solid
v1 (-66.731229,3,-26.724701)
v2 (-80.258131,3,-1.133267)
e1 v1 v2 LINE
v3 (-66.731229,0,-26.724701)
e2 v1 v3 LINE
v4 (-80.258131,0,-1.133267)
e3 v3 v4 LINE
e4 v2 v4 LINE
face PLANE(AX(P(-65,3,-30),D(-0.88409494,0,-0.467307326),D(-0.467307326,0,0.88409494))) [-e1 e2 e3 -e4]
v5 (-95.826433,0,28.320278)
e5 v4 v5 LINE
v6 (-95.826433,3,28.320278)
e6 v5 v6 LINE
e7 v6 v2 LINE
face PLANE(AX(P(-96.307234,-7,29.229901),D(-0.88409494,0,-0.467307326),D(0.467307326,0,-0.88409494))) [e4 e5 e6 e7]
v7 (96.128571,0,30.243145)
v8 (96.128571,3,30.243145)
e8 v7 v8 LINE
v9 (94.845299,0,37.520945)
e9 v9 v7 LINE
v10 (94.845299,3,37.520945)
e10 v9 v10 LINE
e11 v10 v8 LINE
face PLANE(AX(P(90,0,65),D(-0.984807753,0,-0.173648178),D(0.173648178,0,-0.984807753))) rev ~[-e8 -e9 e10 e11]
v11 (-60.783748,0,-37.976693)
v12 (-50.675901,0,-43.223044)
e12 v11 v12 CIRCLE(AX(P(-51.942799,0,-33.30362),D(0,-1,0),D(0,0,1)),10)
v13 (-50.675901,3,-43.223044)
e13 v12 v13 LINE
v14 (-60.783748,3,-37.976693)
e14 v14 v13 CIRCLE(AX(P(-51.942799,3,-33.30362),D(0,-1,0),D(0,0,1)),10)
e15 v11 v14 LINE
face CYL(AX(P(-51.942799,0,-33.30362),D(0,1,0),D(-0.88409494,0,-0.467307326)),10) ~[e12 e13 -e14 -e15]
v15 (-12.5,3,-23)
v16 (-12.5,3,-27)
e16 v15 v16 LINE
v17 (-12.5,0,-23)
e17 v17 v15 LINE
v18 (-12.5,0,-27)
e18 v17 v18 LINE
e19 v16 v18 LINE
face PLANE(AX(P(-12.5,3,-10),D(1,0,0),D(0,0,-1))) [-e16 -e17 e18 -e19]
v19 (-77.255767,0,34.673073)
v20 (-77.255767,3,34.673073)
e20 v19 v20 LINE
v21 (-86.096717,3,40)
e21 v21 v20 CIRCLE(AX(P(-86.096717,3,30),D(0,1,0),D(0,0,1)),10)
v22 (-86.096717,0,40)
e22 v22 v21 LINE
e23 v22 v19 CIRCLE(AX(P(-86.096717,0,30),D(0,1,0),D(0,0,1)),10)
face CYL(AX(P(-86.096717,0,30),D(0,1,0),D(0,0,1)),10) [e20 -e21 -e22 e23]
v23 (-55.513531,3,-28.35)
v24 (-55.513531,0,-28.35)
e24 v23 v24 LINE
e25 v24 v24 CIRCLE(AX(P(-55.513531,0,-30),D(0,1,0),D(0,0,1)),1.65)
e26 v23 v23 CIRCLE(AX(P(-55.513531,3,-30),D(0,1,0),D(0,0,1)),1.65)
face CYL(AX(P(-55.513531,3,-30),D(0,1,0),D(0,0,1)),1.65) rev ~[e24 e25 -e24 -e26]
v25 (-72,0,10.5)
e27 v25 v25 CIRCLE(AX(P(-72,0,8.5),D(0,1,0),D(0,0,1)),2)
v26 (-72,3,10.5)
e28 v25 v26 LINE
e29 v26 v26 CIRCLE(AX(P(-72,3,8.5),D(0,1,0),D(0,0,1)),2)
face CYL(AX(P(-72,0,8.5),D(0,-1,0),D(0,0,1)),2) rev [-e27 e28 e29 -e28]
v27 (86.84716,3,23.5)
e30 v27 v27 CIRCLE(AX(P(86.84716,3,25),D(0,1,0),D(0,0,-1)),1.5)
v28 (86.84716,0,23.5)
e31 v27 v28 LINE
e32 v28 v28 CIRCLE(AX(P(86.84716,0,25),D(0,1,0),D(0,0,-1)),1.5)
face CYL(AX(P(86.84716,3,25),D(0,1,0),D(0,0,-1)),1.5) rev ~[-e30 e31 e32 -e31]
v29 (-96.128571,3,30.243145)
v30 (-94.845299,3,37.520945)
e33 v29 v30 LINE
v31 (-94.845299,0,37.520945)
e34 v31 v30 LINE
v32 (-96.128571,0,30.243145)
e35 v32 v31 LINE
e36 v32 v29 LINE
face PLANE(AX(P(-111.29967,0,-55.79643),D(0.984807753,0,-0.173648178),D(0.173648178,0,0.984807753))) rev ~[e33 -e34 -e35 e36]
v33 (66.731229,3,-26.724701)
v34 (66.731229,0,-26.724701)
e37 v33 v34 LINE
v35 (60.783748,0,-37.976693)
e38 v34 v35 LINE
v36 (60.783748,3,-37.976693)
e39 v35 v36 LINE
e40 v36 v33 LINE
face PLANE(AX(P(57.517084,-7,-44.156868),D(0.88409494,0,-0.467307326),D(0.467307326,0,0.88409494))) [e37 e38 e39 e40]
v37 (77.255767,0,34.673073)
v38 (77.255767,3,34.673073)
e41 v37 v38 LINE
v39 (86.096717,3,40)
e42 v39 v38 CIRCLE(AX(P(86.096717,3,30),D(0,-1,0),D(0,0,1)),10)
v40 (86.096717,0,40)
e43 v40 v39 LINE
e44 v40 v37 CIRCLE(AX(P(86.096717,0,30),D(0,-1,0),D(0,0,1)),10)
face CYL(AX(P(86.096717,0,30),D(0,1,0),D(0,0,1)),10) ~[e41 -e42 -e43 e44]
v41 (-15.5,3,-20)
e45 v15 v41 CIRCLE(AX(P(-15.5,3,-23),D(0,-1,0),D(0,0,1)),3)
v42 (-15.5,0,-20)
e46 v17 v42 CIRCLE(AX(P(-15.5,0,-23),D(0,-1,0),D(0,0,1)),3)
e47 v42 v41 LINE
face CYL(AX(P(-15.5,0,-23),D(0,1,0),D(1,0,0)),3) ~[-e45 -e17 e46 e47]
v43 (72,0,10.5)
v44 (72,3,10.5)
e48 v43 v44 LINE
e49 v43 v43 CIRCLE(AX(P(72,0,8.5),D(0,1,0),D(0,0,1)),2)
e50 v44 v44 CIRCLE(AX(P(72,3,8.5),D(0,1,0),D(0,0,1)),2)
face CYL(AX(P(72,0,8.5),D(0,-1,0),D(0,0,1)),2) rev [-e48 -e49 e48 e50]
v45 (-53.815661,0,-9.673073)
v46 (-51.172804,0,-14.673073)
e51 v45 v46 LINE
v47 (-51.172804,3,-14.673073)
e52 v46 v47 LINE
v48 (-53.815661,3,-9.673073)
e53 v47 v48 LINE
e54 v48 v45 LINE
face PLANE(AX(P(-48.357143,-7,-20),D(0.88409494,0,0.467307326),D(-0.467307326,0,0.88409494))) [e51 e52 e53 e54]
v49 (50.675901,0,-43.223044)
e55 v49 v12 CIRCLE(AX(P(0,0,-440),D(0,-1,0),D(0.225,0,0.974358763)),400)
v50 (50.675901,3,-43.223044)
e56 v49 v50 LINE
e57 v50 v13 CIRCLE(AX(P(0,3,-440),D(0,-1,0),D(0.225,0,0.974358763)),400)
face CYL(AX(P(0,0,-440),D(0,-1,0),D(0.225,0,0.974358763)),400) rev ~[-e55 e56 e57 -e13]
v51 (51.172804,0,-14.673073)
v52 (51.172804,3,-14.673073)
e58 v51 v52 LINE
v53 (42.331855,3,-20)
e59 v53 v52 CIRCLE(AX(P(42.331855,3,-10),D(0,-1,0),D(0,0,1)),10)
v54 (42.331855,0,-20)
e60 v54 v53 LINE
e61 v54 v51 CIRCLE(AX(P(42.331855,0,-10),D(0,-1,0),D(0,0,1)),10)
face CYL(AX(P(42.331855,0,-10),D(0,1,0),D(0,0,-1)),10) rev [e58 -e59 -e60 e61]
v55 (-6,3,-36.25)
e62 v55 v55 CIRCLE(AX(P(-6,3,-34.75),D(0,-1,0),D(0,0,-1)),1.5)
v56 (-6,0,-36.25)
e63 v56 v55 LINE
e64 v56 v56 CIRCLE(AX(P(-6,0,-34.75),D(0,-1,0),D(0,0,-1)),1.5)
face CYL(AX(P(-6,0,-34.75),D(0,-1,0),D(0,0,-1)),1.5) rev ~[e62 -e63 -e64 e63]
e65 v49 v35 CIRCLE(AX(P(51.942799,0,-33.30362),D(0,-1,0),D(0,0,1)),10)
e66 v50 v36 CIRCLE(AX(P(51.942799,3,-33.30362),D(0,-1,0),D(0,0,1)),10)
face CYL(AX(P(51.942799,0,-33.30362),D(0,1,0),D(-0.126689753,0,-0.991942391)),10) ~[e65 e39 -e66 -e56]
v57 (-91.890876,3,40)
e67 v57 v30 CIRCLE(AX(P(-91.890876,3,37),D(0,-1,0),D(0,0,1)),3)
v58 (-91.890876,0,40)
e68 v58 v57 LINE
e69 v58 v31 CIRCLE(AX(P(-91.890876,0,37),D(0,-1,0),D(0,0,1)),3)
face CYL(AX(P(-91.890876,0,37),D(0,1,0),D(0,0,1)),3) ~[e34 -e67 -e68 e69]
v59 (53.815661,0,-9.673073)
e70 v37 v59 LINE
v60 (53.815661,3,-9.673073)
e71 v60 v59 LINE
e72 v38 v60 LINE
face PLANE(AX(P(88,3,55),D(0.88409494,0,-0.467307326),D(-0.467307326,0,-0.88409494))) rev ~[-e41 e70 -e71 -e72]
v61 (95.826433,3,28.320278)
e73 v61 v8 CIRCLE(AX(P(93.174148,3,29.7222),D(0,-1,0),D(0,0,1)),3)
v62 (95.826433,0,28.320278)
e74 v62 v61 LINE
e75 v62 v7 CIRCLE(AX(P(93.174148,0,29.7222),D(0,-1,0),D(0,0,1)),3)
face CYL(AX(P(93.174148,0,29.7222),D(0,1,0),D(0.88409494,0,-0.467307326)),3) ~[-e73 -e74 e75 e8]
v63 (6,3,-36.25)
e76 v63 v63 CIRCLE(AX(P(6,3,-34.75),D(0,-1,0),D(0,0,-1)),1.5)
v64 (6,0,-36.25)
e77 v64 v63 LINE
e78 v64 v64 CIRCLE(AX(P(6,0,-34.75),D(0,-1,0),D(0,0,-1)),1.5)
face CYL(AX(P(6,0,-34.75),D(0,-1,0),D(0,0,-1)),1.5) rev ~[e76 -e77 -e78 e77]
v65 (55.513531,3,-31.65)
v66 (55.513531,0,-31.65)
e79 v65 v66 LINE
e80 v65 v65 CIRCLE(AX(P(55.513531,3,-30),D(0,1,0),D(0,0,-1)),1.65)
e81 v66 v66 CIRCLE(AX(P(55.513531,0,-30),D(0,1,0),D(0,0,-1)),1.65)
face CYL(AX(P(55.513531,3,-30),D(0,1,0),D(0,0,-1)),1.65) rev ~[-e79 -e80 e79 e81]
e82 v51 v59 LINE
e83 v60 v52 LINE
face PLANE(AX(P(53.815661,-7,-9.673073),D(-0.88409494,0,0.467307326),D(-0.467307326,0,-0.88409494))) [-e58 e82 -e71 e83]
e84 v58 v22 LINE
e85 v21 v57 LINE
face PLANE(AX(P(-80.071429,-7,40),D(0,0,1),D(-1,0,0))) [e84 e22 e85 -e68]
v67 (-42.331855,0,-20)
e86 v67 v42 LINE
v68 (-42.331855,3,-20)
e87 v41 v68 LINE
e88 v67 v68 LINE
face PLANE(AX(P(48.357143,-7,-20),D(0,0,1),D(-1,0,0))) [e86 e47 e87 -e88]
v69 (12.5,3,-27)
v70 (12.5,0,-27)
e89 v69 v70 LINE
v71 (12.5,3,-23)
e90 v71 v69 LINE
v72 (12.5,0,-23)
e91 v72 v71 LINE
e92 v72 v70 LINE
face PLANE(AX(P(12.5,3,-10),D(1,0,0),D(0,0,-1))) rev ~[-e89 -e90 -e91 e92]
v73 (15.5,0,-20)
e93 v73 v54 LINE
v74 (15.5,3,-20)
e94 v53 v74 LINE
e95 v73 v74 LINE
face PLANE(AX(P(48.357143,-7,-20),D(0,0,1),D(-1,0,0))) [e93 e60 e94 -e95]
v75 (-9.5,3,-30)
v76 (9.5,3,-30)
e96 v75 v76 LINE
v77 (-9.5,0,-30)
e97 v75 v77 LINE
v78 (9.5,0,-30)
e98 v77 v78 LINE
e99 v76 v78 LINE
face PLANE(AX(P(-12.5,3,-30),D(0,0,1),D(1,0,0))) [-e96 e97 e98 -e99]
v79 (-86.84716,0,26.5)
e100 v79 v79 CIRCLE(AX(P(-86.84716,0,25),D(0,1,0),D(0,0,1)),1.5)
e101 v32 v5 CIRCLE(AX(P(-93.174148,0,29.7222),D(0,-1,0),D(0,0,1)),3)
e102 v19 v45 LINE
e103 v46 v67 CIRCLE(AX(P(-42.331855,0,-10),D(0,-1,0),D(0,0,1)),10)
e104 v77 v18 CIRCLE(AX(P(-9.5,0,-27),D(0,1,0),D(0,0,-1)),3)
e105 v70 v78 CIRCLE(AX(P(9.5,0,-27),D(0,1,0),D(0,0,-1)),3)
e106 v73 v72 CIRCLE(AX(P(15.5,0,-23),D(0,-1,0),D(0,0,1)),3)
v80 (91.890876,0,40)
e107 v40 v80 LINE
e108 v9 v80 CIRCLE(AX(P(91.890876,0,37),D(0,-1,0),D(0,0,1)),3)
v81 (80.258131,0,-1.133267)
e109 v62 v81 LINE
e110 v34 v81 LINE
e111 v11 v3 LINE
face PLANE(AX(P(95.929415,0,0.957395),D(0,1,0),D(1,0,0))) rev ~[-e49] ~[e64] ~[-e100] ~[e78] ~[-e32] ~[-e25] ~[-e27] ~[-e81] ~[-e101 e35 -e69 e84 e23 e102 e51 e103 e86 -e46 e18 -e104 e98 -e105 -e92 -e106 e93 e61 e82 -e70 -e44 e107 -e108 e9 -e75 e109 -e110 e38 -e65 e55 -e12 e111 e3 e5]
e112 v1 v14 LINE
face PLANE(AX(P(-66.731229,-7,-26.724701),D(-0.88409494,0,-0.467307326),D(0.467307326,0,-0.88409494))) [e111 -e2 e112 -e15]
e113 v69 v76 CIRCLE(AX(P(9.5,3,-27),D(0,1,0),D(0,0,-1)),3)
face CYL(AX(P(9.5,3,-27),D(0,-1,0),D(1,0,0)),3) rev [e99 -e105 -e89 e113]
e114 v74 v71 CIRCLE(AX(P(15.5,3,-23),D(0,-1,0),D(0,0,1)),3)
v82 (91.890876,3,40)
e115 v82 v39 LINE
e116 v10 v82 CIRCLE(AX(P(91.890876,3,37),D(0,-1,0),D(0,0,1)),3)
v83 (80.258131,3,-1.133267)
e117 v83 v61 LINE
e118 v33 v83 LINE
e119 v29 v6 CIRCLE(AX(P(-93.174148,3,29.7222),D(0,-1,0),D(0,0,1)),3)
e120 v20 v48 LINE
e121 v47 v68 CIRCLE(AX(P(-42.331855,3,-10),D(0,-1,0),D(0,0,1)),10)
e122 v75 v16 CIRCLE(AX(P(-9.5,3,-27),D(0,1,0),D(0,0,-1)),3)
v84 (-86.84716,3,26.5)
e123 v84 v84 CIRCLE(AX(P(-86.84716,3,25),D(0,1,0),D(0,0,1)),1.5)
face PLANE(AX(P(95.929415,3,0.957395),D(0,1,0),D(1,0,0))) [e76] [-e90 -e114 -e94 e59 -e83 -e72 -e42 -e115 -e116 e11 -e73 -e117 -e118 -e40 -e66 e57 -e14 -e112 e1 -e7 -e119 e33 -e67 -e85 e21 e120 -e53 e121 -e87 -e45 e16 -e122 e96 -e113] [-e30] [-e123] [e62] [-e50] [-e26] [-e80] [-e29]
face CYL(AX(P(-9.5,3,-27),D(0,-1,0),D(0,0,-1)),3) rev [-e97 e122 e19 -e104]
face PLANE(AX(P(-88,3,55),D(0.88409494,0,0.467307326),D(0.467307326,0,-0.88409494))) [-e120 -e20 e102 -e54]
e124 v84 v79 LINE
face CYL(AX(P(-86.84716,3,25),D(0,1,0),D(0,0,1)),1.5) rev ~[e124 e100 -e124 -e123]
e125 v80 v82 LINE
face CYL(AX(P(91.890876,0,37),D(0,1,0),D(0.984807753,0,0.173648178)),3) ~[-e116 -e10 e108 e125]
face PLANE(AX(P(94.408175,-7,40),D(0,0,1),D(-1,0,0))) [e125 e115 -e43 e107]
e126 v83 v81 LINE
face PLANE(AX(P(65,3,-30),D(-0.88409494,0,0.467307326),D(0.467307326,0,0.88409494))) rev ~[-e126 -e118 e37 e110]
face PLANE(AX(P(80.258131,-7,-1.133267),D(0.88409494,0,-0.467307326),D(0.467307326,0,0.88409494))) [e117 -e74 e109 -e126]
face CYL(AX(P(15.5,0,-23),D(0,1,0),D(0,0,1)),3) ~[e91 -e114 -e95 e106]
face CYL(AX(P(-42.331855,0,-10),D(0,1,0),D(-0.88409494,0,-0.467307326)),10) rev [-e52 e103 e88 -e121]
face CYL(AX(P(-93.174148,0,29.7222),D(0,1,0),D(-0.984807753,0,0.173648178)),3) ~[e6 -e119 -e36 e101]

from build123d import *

# Parameters (mm, degrees)
SKETCH_1_R          = 2
EXTRUDE_1_DEPTH     = 3
SKETCH_2_R          = 1.5
CUT_EXTRUDE_1_DEPTH = 129.924848176
CUT_EXTRUDE_2_DEPTH = 3
CUT_EXTRUDE_3_DEPTH = 3
CUT_EXTRUDE_4_DEPTH = 129.924848176
FILLET_1_R          = 10
SKETCH_6_R          = 1.25
CUT_EXTRUDE_5_DEPTH = 3
FILLET_2_R          = 10
FILLET_3_R          = 10
CUT_EXTRUDE_6_DEPTH = 127.707867559
FILLET_4_R          = 3
CUT_EXTRUDE_START   = -10
SKETCH_8_R          = 1.25
CUT_EXTRUDE_7_DEPTH = 10
SKETCH_9_R          = 1.65
SKETCH_9_R_2        = 1.5
CUT_EXTRUDE_8_DEPTH = 106.990151571
FILLET_5_R          = 10
SKETCH_10_W         = 25
SKETCH_10_H         = 20
CUT_EXTRUDE_9_DEPTH = 106.637525121
FILLET_6_R          = 3


with BuildPart() as part:
    # 草图1 → 凸台-拉伸1 (new body)
    # profile 1 of 3: a face of its own
    with BuildSketch(Plane(origin=(0, 0, 0), x_dir=(1, 0, 0), z_dir=(0, 1, 0))):
        with BuildLine():
            ThreePointArc((90, 50.256494602), (0, 40), (-90, 50.256494602))
            Line((-90, 50.256494602), (-90, -65))
            Line((-90, -65), (90, -65))
            Line((90, -65), (90, 50.256494602))
        make_face()
        with Locations(Location((-72, -8.5, 0), (0, 0, 270))):
            Circle(SKETCH_1_R, mode=Mode.SUBTRACT)
        with Locations(Location((72, -8.5, 0), (0, 0, 270))):
            Circle(SKETCH_1_R, mode=Mode.SUBTRACT)
    # profile 2 of 3: a face of its own
    with BuildSketch(Plane(origin=(0, 0, 0), x_dir=(1, 0, 0), z_dir=(0, 1, 0))):
        with BuildLine():
            Line((-90, -65), (-90, 50.256494602))
            ThreePointArc((-90, 50.256494602), (-100.687943549, 52.879943656), (-111.299669708, 55.796429581))
            Line((-111.299669708, 55.796429581), (-90, -65))
        make_face()
    # profile 3 of 3: a face of its own
    with BuildSketch(Plane(origin=(0, 0, 0), x_dir=(1, 0, 0), z_dir=(0, 1, 0))):
        with BuildLine():
            ThreePointArc((111.299669708, 55.796429581), (100.687943549, 52.879943656), (90, 50.256494602))
            Line((90, 50.256494602), (90, -65))
            Line((90, -65), (111.299669708, 55.796429581))
        make_face()
    extrude(amount=EXTRUDE_1_DEPTH)

    # 草图2 → 切除-拉伸1 (cut, through all)
    with BuildSketch(Plane(origin=(0, 0, 0), x_dir=(-1, 0, 0), z_dir=(0, -1, 0))):
        with Locations(Location((6, 28.25, 0), (0, 0, 90))):
            Circle(SKETCH_2_R)
        with Locations(Location((-6, 28.25, 0), (0, 0, 90))):
            Circle(SKETCH_2_R)
        with Locations(Location((6, 34.75, 0), (0, 0, 90))):
            Circle(SKETCH_2_R)
        with Locations(Location((-6, 34.75, 0), (0, 0, 90))):
            Circle(SKETCH_2_R)
    extrude(amount=-CUT_EXTRUDE_1_DEPTH, mode=Mode.SUBTRACT)

    # 草图3 → 切除-拉伸2 (cut)
    with BuildSketch(Plane(origin=(0, 3, 0), x_dir=(1, 0, 0), z_dir=(0, 1, 0))):
        with BuildLine():
            ThreePointArc((-45, -46.5), (-40, -41.5), (-35, -46.5))
            Line((-35, -46.5), (-35, 8.5))
            ThreePointArc((-35, 8.5), (-40, 3.5), (-45, 8.5))
            Line((-45, 8.5), (-45, -46.5))
        make_face()
        with BuildLine():
            ThreePointArc((-45, 8.5), (-40, 3.5), (-35, 8.5))
            Line((-35, 8.5), (-45, 8.5))
        make_face()
        with BuildLine():
            Line((-45, 8.5), (-35, 8.5))
            ThreePointArc((-35, 8.5), (-40, 13.5), (-45, 8.5))
        make_face()
        with BuildLine():
            ThreePointArc((-45, -46.5), (-40, -51.5), (-35, -46.5))
            Line((-35, -46.5), (-45, -46.5))
        make_face()
        with BuildLine():
            Line((-45, -46.5), (-35, -46.5))
            ThreePointArc((-35, -46.5), (-40, -41.5), (-45, -46.5))
        make_face()
        with BuildLine():
            ThreePointArc((45, 8.5), (40, 3.5), (35, 8.5))
            Line((35, 8.5), (35, -46.5))
            ThreePointArc((35, -46.5), (40, -41.5), (45, -46.5))
            Line((45, -46.5), (45, 8.5))
        make_face()
        with BuildLine():
            ThreePointArc((45, -46.5), (40, -41.5), (35, -46.5))
            Line((35, -46.5), (45, -46.5))
        make_face()
        with BuildLine():
            Line((45, -46.5), (35, -46.5))
            ThreePointArc((35, -46.5), (40, -51.5), (45, -46.5))
        make_face()
        with BuildLine():
            ThreePointArc((45, 8.5), (40, 13.5), (35, 8.5))
            Line((35, 8.5), (45, 8.5))
        make_face()
        with BuildLine():
            Line((45, 8.5), (35, 8.5))
            ThreePointArc((35, 8.5), (40, 3.5), (45, 8.5))
        make_face()
    extrude(amount=-CUT_EXTRUDE_2_DEPTH, mode=Mode.SUBTRACT)

    # 草图4 → 切除-拉伸3 (cut)
    with BuildSketch(Plane(origin=(0, 3, 0), x_dir=(1, 0, 0), z_dir=(0, 1, 0))):
        with BuildLine():
            Line((45, -41.966401061), (45, -27.473665961))
            ThreePointArc((45, -27.473665961), (39.285969894, -12.835001066), (40.990143514, 2.78666473))
            Line((40.990143514, 2.78666473), (35, 4.966898668))
            Line((35, 4.966898668), (35, -30.4089023))
            ThreePointArc((35, -30.4089023), (39.482405618, -36.635494586), (45, -41.966401061))
        make_face()
        with BuildLine():
            Line((35, 4.966898668), (31.593217306, 6.206866163))
            ThreePointArc((31.593217306, 6.206866163), (29.1849194, -12.483575431), (35, -30.4089023))
            Line((35, -30.4089023), (35, 4.966898668))
        make_face()
        with BuildLine():
            Line((72, -51.5), (72, -41.5))
            ThreePointArc((72, -41.5), (56.787028178, -37.784219101), (45, -27.473665961))
            Line((45, -27.473665961), (45, -41.966401061))
            ThreePointArc((45, -41.966401061), (57.6831436, -49.046610497), (72, -51.5))
        make_face()
    extrude(amount=-CUT_EXTRUDE_3_DEPTH, mode=Mode.SUBTRACT)

    # 草图5 → 切除-拉伸4 (cut, through all)
    with BuildSketch(Plane(origin=(0, 3, 0), x_dir=(1, 0, 0), z_dir=(0, 1, 0))):
        Polygon((23, 15), (23, -55), (88, -55), (51, 15), align=None)
        Polygon((-88, -55), (-51, 15), (-23, 15), (-23, -55), align=None)
    extrude(amount=-CUT_EXTRUDE_4_DEPTH, mode=Mode.SUBTRACT)

    # 圆角1
    fillet_1_edges = [part.edges().sort_by_distance(p)[0] for p in [
        (23, 1.5, -15),
        (51, 1.5, -15),
        (88, 1.5, 55),
        (23, 1.5, 55),
        (-23, 1.5, 55),
        (-88, 1.5, 55),
        (-51, 1.5, -15),
        (-23, 1.5, -15),
    ]]
    fillet(fillet_1_edges, radius=FILLET_1_R)

    # 草图6 → 切除-拉伸5 (cut)
    with BuildSketch(Plane(origin=(0, 3, 0), x_dir=(1, 0, 0), z_dir=(0, 1, 0))):
        with Locations(Location((0, -59, 0), (0, 0, 270))):
            Circle(SKETCH_6_R)
        with Locations(Location((0, -51.5, 0), (0, 0, 270))):
            Circle(SKETCH_6_R)
        with Locations(Location((0, -44, 0), (0, 0, 270))):
            Circle(SKETCH_6_R)
        with Locations(Location((0, -36.5, 0), (0, 0, 270))):
            Circle(SKETCH_6_R)
        with Locations(Location((0, -29, 0), (0, 0, 270))):
            Circle(SKETCH_6_R)
        with Locations(Location((0, -21.5, 0), (0, 0, 270))):
            Circle(SKETCH_6_R)
        with Locations(Location((0, -14, 0), (0, 0, 270))):
            Circle(SKETCH_6_R)
        with Locations(Location((0, -6.5, 0), (0, 0, 270))):
            Circle(SKETCH_6_R)
        with Locations(Location((0, 1, 0), (0, 0, 270))):
            Circle(SKETCH_6_R)
        with Locations(Location((0, 8.5, 0), (0, 0, 270))):
            Circle(SKETCH_6_R)
        with Locations(Location((0, 16, 0), (0, 0, 270))):
            Circle(SKETCH_6_R)
    extrude(amount=-CUT_EXTRUDE_5_DEPTH, mode=Mode.SUBTRACT)

    # 圆角2
    fillet_2_edges = [part.edges().sort_by_distance(p)[0] for p in [
        (90, 1.5, 65),
        (-90, 1.5, 65),
    ]]
    fillet(fillet_2_edges, radius=FILLET_2_R)

    # 圆角3
    fillet_3_edges = [part.edges().sort_by_distance(p)[0] for p in [
        (111.299669708, 1.5, -55.796429581),
        (-111.299669708, 1.5, -55.796429581),
    ]]
    fillet(fillet_3_edges, radius=FILLET_3_R)

    # 草图7 → 切除-拉伸6 (cut, through all)
    with BuildSketch(Plane(origin=(0, 3, 0), x_dir=(1, 0, 0), z_dir=(0, 1, 0))):
        Polygon((-65, 30), (-84.345864805, -6.600284766), (-92.1600328, 37.716064119), align=None)
        Polygon((84.345864805, -6.600284766), (92.1600328, 37.716064119), (65, 30), align=None)
    extrude(amount=-CUT_EXTRUDE_6_DEPTH, mode=Mode.SUBTRACT)

    # 圆角4
    fillet_4_edges = [part.edges().sort_by_distance(p)[0] for p in [
        (-92.1600328, 1.5, -37.716064119),
        (-65, 1.5, -30),
        (-84.345864805, 1.5, 6.600284766),
        (84.345864805, 1.5, 6.600284766),
        (65, 1.5, -30),
        (92.1600328, 1.5, -37.716064119),
    ]]
    fillet(fillet_4_edges, radius=FILLET_4_R)

    # 草图8 → 切除-拉伸7 (cut)
    # profile 1 of 3: a face of its own
    with BuildSketch(Plane(origin=(0, 3, 0), x_dir=(1, 0, 0), z_dir=(0, 1, 0)).offset(CUT_EXTRUDE_START)):
        with BuildLine():
            Line((-96.307233514, -29.229901242), (-80.258130563, 1.133266502))
            ThreePointArc((-80.258130563, 1.133266502), (-83.376089329, -0.428449113), (-85.864838643, 2.014243946))
            Line((-85.864838643, 2.014243946), (-91.328614944, 33.00085915))
            ThreePointArc((-91.328614944, 33.00085915), (-90.384312562, 35.748777877), (-87.554346089, 36.407605686))
            Line((-87.554346089, 36.407605686), (-68.563668687, 31.012424996))
            ThreePointArc((-68.563668687, 31.012424996), (-66.62487936, 29.305577344), (-66.731229463, 26.724701016))
            Line((-66.731229463, 26.724701016), (-57.517083989, 44.156868129))
            ThreePointArc((-57.517083989, 44.156868129), (-77.01064871, 47.483299737), (-96.315987752, 51.76910156))
            ThreePointArc((-96.315987752, 51.76910156), (-105.548135175, 49.372887426), (-108.571964976, 40.326847323))
            Line((-108.571964976, 40.326847323), (-96.307233514, -29.229901242))
        make_face()
    # profile 2 of 3: a face of its own
    with BuildSketch(Plane(origin=(0, 3, 0), x_dir=(1, 0, 0), z_dir=(0, 1, 0)).offset(CUT_EXTRUDE_START)):
        with BuildLine():
            Line((-80.071428571, -40), (-94.408174518, -40))
            Line((-94.408174518, -40), (-91.457081218, -56.736481777))
            ThreePointArc((-91.457081218, -56.736481777), (-88.036879785, -62.660444431), (-81.609003688, -65))
            Line((-81.609003688, -65), (81.609003688, -65))
            ThreePointArc((81.609003688, -65), (88.036879785, -62.660444431), (91.457081218, -56.736481777))
            Line((91.457081218, -56.736481777), (94.408174518, -40))
            Line((94.408174518, -40), (80.071428571, -40))
            Line((80.071428571, -40), (80.244232708, -40.326926744))
            ThreePointArc((80.244232708, -40.326926744), (79.968641807, -50.160875286), (71.403283305, -55))
            Line((71.403283305, -55), (33, -55))
            ThreePointArc((33, -55), (25.928932188, -52.071067812), (23, -45))
            Line((23, -45), (23, 5))
            ThreePointArc((23, 5), (25.928932188, 12.071067812), (33, 15))
            Line((33, 15), (44.974711876, 15))
            ThreePointArc((44.974711876, 15), (50.135587162, 13.565358503), (53.815661279, 9.673073256))
            Line((53.815661279, 9.673073256), (48.357142857, 20))
            Line((48.357142857, 20), (-48.357142857, 20))
            Line((-48.357142857, 20), (-53.815661279, 9.673073256))
            ThreePointArc((-53.815661279, 9.673073256), (-50.135587162, 13.565358503), (-44.974711876, 15))
            Line((-44.974711876, 15), (-33, 15))
            ThreePointArc((-33, 15), (-25.928932188, 12.071067812), (-23, 5))
            Line((-23, 5), (-23, -45))
            ThreePointArc((-23, -45), (-25.928932188, -52.071067812), (-33, -55))
            Line((-33, -55), (-71.403283305, -55))
            ThreePointArc((-71.403283305, -55), (-79.968641807, -50.160875286), (-80.244232708, -40.326926744))
            Line((-80.244232708, -40.326926744), (-80.071428571, -40))
        make_face()
        with Locations((0, -59)):
            Circle(SKETCH_8_R, mode=Mode.SUBTRACT)
        with Locations((0, -51.5)):
            Circle(SKETCH_8_R, mode=Mode.SUBTRACT)
        with Locations((0, -44)):
            Circle(SKETCH_8_R, mode=Mode.SUBTRACT)
        with Locations((0, -36.5)):
            Circle(SKETCH_8_R, mode=Mode.SUBTRACT)
        with Locations((0, -29)):
            Circle(SKETCH_8_R, mode=Mode.SUBTRACT)
        with Locations((0, -21.5)):
            Circle(SKETCH_8_R, mode=Mode.SUBTRACT)
        with Locations((0, -14)):
            Circle(SKETCH_8_R, mode=Mode.SUBTRACT)
        with Locations((0, -6.5)):
            Circle(SKETCH_8_R, mode=Mode.SUBTRACT)
        with Locations((0, 1)):
            Circle(SKETCH_8_R, mode=Mode.SUBTRACT)
        with Locations((0, 8.5)):
            Circle(SKETCH_8_R, mode=Mode.SUBTRACT)
        with Locations((0, 16)):
            Circle(SKETCH_8_R, mode=Mode.SUBTRACT)
    # profile 3 of 3: a face of its own
    with BuildSketch(Plane(origin=(0, 3, 0), x_dir=(1, 0, 0), z_dir=(0, 1, 0)).offset(CUT_EXTRUDE_START)):
        with BuildLine():
            ThreePointArc((96.315987752, 51.76910156), (77.01064871, 47.483299737), (57.517083989, 44.156868129))
            Line((57.517083989, 44.156868129), (66.731229463, 26.724701016))
            ThreePointArc((66.731229463, 26.724701016), (66.62487936, 29.305577344), (68.563668687, 31.012424996))
            Line((68.563668687, 31.012424996), (87.554346089, 36.407605686))
            ThreePointArc((87.554346089, 36.407605686), (90.384312562, 35.748777877), (91.328614944, 33.00085915))
            Line((91.328614944, 33.00085915), (85.864838643, 2.014243946))
            ThreePointArc((85.864838643, 2.014243946), (83.376089329, -0.428449113), (80.258130563, 1.133266502))
            Line((80.258130563, 1.133266502), (96.307233514, -29.229901242))
            Line((96.307233514, -29.229901242), (108.571964976, 40.326847323))
            ThreePointArc((108.571964976, 40.326847323), (105.548135175, 49.372887426), (96.315987752, 51.76910156))
        make_face()
    extrude(amount=CUT_EXTRUDE_7_DEPTH, mode=Mode.SUBTRACT)

    # 草图9 → 切除-拉伸8 (cut, through all)
    with BuildSketch(Plane(origin=(0, 3, 0), x_dir=(1, 0, 0), z_dir=(0, 1, 0))):
        with Locations(Location((-55.513531222, 30, 0), (0, 0, 270))):
            Circle(SKETCH_9_R)
        with Locations(Location((-86.847160275, -25, 0), (0, 0, 270))):
            Circle(SKETCH_9_R_2)
        with Locations(Location((86.847160275, -25, 0), (0, 0, 90))):
            Circle(SKETCH_9_R_2)
        with Locations(Location((55.513531222, 30, 0), (0, 0, 90))):
            Circle(SKETCH_9_R)
    extrude(amount=-CUT_EXTRUDE_8_DEPTH, mode=Mode.SUBTRACT)

    # 圆角5
    fillet_5_edges = [part.edges().sort_by_distance(p)[0] for p in [
        (-48.357142857, 1.5, -20),
        (80.071428571, 1.5, 40),
        (48.357142857, 1.5, -20),
        (-80.071428571, 1.5, 40),
        (57.517083989, 1.5, -44.156868129),
        (-57.517083989, 1.5, -44.156868129),
    ]]
    fillet(fillet_5_edges, radius=FILLET_5_R)

    # 草图10 → 切除-拉伸9 (cut, through all)
    with BuildSketch(Plane(origin=(0, 3, 0), x_dir=(1, 0, 0), z_dir=(0, 1, 0))):
        with Locations((0, 20)):
            Rectangle(SKETCH_10_W, SKETCH_10_H)
    extrude(amount=-CUT_EXTRUDE_9_DEPTH, mode=Mode.SUBTRACT)

    # 圆角6
    fillet_6_edges = [part.edges().sort_by_distance(p)[0] for p in [
        (-94.408174518, 1.5, 40),
        (94.408174518, 1.5, 40),
        (-96.307233514, 1.5, 29.229901242),
        (96.307233514, 1.5, 29.229901242),
        (-12.5, 1.5, -20),
        (12.5, 1.5, -20),
        (12.5, 1.5, -30),
        (-12.5, 1.5, -30),
    ]]
    fillet(fillet_6_edges, radius=FILLET_6_R)


solid = part.part
